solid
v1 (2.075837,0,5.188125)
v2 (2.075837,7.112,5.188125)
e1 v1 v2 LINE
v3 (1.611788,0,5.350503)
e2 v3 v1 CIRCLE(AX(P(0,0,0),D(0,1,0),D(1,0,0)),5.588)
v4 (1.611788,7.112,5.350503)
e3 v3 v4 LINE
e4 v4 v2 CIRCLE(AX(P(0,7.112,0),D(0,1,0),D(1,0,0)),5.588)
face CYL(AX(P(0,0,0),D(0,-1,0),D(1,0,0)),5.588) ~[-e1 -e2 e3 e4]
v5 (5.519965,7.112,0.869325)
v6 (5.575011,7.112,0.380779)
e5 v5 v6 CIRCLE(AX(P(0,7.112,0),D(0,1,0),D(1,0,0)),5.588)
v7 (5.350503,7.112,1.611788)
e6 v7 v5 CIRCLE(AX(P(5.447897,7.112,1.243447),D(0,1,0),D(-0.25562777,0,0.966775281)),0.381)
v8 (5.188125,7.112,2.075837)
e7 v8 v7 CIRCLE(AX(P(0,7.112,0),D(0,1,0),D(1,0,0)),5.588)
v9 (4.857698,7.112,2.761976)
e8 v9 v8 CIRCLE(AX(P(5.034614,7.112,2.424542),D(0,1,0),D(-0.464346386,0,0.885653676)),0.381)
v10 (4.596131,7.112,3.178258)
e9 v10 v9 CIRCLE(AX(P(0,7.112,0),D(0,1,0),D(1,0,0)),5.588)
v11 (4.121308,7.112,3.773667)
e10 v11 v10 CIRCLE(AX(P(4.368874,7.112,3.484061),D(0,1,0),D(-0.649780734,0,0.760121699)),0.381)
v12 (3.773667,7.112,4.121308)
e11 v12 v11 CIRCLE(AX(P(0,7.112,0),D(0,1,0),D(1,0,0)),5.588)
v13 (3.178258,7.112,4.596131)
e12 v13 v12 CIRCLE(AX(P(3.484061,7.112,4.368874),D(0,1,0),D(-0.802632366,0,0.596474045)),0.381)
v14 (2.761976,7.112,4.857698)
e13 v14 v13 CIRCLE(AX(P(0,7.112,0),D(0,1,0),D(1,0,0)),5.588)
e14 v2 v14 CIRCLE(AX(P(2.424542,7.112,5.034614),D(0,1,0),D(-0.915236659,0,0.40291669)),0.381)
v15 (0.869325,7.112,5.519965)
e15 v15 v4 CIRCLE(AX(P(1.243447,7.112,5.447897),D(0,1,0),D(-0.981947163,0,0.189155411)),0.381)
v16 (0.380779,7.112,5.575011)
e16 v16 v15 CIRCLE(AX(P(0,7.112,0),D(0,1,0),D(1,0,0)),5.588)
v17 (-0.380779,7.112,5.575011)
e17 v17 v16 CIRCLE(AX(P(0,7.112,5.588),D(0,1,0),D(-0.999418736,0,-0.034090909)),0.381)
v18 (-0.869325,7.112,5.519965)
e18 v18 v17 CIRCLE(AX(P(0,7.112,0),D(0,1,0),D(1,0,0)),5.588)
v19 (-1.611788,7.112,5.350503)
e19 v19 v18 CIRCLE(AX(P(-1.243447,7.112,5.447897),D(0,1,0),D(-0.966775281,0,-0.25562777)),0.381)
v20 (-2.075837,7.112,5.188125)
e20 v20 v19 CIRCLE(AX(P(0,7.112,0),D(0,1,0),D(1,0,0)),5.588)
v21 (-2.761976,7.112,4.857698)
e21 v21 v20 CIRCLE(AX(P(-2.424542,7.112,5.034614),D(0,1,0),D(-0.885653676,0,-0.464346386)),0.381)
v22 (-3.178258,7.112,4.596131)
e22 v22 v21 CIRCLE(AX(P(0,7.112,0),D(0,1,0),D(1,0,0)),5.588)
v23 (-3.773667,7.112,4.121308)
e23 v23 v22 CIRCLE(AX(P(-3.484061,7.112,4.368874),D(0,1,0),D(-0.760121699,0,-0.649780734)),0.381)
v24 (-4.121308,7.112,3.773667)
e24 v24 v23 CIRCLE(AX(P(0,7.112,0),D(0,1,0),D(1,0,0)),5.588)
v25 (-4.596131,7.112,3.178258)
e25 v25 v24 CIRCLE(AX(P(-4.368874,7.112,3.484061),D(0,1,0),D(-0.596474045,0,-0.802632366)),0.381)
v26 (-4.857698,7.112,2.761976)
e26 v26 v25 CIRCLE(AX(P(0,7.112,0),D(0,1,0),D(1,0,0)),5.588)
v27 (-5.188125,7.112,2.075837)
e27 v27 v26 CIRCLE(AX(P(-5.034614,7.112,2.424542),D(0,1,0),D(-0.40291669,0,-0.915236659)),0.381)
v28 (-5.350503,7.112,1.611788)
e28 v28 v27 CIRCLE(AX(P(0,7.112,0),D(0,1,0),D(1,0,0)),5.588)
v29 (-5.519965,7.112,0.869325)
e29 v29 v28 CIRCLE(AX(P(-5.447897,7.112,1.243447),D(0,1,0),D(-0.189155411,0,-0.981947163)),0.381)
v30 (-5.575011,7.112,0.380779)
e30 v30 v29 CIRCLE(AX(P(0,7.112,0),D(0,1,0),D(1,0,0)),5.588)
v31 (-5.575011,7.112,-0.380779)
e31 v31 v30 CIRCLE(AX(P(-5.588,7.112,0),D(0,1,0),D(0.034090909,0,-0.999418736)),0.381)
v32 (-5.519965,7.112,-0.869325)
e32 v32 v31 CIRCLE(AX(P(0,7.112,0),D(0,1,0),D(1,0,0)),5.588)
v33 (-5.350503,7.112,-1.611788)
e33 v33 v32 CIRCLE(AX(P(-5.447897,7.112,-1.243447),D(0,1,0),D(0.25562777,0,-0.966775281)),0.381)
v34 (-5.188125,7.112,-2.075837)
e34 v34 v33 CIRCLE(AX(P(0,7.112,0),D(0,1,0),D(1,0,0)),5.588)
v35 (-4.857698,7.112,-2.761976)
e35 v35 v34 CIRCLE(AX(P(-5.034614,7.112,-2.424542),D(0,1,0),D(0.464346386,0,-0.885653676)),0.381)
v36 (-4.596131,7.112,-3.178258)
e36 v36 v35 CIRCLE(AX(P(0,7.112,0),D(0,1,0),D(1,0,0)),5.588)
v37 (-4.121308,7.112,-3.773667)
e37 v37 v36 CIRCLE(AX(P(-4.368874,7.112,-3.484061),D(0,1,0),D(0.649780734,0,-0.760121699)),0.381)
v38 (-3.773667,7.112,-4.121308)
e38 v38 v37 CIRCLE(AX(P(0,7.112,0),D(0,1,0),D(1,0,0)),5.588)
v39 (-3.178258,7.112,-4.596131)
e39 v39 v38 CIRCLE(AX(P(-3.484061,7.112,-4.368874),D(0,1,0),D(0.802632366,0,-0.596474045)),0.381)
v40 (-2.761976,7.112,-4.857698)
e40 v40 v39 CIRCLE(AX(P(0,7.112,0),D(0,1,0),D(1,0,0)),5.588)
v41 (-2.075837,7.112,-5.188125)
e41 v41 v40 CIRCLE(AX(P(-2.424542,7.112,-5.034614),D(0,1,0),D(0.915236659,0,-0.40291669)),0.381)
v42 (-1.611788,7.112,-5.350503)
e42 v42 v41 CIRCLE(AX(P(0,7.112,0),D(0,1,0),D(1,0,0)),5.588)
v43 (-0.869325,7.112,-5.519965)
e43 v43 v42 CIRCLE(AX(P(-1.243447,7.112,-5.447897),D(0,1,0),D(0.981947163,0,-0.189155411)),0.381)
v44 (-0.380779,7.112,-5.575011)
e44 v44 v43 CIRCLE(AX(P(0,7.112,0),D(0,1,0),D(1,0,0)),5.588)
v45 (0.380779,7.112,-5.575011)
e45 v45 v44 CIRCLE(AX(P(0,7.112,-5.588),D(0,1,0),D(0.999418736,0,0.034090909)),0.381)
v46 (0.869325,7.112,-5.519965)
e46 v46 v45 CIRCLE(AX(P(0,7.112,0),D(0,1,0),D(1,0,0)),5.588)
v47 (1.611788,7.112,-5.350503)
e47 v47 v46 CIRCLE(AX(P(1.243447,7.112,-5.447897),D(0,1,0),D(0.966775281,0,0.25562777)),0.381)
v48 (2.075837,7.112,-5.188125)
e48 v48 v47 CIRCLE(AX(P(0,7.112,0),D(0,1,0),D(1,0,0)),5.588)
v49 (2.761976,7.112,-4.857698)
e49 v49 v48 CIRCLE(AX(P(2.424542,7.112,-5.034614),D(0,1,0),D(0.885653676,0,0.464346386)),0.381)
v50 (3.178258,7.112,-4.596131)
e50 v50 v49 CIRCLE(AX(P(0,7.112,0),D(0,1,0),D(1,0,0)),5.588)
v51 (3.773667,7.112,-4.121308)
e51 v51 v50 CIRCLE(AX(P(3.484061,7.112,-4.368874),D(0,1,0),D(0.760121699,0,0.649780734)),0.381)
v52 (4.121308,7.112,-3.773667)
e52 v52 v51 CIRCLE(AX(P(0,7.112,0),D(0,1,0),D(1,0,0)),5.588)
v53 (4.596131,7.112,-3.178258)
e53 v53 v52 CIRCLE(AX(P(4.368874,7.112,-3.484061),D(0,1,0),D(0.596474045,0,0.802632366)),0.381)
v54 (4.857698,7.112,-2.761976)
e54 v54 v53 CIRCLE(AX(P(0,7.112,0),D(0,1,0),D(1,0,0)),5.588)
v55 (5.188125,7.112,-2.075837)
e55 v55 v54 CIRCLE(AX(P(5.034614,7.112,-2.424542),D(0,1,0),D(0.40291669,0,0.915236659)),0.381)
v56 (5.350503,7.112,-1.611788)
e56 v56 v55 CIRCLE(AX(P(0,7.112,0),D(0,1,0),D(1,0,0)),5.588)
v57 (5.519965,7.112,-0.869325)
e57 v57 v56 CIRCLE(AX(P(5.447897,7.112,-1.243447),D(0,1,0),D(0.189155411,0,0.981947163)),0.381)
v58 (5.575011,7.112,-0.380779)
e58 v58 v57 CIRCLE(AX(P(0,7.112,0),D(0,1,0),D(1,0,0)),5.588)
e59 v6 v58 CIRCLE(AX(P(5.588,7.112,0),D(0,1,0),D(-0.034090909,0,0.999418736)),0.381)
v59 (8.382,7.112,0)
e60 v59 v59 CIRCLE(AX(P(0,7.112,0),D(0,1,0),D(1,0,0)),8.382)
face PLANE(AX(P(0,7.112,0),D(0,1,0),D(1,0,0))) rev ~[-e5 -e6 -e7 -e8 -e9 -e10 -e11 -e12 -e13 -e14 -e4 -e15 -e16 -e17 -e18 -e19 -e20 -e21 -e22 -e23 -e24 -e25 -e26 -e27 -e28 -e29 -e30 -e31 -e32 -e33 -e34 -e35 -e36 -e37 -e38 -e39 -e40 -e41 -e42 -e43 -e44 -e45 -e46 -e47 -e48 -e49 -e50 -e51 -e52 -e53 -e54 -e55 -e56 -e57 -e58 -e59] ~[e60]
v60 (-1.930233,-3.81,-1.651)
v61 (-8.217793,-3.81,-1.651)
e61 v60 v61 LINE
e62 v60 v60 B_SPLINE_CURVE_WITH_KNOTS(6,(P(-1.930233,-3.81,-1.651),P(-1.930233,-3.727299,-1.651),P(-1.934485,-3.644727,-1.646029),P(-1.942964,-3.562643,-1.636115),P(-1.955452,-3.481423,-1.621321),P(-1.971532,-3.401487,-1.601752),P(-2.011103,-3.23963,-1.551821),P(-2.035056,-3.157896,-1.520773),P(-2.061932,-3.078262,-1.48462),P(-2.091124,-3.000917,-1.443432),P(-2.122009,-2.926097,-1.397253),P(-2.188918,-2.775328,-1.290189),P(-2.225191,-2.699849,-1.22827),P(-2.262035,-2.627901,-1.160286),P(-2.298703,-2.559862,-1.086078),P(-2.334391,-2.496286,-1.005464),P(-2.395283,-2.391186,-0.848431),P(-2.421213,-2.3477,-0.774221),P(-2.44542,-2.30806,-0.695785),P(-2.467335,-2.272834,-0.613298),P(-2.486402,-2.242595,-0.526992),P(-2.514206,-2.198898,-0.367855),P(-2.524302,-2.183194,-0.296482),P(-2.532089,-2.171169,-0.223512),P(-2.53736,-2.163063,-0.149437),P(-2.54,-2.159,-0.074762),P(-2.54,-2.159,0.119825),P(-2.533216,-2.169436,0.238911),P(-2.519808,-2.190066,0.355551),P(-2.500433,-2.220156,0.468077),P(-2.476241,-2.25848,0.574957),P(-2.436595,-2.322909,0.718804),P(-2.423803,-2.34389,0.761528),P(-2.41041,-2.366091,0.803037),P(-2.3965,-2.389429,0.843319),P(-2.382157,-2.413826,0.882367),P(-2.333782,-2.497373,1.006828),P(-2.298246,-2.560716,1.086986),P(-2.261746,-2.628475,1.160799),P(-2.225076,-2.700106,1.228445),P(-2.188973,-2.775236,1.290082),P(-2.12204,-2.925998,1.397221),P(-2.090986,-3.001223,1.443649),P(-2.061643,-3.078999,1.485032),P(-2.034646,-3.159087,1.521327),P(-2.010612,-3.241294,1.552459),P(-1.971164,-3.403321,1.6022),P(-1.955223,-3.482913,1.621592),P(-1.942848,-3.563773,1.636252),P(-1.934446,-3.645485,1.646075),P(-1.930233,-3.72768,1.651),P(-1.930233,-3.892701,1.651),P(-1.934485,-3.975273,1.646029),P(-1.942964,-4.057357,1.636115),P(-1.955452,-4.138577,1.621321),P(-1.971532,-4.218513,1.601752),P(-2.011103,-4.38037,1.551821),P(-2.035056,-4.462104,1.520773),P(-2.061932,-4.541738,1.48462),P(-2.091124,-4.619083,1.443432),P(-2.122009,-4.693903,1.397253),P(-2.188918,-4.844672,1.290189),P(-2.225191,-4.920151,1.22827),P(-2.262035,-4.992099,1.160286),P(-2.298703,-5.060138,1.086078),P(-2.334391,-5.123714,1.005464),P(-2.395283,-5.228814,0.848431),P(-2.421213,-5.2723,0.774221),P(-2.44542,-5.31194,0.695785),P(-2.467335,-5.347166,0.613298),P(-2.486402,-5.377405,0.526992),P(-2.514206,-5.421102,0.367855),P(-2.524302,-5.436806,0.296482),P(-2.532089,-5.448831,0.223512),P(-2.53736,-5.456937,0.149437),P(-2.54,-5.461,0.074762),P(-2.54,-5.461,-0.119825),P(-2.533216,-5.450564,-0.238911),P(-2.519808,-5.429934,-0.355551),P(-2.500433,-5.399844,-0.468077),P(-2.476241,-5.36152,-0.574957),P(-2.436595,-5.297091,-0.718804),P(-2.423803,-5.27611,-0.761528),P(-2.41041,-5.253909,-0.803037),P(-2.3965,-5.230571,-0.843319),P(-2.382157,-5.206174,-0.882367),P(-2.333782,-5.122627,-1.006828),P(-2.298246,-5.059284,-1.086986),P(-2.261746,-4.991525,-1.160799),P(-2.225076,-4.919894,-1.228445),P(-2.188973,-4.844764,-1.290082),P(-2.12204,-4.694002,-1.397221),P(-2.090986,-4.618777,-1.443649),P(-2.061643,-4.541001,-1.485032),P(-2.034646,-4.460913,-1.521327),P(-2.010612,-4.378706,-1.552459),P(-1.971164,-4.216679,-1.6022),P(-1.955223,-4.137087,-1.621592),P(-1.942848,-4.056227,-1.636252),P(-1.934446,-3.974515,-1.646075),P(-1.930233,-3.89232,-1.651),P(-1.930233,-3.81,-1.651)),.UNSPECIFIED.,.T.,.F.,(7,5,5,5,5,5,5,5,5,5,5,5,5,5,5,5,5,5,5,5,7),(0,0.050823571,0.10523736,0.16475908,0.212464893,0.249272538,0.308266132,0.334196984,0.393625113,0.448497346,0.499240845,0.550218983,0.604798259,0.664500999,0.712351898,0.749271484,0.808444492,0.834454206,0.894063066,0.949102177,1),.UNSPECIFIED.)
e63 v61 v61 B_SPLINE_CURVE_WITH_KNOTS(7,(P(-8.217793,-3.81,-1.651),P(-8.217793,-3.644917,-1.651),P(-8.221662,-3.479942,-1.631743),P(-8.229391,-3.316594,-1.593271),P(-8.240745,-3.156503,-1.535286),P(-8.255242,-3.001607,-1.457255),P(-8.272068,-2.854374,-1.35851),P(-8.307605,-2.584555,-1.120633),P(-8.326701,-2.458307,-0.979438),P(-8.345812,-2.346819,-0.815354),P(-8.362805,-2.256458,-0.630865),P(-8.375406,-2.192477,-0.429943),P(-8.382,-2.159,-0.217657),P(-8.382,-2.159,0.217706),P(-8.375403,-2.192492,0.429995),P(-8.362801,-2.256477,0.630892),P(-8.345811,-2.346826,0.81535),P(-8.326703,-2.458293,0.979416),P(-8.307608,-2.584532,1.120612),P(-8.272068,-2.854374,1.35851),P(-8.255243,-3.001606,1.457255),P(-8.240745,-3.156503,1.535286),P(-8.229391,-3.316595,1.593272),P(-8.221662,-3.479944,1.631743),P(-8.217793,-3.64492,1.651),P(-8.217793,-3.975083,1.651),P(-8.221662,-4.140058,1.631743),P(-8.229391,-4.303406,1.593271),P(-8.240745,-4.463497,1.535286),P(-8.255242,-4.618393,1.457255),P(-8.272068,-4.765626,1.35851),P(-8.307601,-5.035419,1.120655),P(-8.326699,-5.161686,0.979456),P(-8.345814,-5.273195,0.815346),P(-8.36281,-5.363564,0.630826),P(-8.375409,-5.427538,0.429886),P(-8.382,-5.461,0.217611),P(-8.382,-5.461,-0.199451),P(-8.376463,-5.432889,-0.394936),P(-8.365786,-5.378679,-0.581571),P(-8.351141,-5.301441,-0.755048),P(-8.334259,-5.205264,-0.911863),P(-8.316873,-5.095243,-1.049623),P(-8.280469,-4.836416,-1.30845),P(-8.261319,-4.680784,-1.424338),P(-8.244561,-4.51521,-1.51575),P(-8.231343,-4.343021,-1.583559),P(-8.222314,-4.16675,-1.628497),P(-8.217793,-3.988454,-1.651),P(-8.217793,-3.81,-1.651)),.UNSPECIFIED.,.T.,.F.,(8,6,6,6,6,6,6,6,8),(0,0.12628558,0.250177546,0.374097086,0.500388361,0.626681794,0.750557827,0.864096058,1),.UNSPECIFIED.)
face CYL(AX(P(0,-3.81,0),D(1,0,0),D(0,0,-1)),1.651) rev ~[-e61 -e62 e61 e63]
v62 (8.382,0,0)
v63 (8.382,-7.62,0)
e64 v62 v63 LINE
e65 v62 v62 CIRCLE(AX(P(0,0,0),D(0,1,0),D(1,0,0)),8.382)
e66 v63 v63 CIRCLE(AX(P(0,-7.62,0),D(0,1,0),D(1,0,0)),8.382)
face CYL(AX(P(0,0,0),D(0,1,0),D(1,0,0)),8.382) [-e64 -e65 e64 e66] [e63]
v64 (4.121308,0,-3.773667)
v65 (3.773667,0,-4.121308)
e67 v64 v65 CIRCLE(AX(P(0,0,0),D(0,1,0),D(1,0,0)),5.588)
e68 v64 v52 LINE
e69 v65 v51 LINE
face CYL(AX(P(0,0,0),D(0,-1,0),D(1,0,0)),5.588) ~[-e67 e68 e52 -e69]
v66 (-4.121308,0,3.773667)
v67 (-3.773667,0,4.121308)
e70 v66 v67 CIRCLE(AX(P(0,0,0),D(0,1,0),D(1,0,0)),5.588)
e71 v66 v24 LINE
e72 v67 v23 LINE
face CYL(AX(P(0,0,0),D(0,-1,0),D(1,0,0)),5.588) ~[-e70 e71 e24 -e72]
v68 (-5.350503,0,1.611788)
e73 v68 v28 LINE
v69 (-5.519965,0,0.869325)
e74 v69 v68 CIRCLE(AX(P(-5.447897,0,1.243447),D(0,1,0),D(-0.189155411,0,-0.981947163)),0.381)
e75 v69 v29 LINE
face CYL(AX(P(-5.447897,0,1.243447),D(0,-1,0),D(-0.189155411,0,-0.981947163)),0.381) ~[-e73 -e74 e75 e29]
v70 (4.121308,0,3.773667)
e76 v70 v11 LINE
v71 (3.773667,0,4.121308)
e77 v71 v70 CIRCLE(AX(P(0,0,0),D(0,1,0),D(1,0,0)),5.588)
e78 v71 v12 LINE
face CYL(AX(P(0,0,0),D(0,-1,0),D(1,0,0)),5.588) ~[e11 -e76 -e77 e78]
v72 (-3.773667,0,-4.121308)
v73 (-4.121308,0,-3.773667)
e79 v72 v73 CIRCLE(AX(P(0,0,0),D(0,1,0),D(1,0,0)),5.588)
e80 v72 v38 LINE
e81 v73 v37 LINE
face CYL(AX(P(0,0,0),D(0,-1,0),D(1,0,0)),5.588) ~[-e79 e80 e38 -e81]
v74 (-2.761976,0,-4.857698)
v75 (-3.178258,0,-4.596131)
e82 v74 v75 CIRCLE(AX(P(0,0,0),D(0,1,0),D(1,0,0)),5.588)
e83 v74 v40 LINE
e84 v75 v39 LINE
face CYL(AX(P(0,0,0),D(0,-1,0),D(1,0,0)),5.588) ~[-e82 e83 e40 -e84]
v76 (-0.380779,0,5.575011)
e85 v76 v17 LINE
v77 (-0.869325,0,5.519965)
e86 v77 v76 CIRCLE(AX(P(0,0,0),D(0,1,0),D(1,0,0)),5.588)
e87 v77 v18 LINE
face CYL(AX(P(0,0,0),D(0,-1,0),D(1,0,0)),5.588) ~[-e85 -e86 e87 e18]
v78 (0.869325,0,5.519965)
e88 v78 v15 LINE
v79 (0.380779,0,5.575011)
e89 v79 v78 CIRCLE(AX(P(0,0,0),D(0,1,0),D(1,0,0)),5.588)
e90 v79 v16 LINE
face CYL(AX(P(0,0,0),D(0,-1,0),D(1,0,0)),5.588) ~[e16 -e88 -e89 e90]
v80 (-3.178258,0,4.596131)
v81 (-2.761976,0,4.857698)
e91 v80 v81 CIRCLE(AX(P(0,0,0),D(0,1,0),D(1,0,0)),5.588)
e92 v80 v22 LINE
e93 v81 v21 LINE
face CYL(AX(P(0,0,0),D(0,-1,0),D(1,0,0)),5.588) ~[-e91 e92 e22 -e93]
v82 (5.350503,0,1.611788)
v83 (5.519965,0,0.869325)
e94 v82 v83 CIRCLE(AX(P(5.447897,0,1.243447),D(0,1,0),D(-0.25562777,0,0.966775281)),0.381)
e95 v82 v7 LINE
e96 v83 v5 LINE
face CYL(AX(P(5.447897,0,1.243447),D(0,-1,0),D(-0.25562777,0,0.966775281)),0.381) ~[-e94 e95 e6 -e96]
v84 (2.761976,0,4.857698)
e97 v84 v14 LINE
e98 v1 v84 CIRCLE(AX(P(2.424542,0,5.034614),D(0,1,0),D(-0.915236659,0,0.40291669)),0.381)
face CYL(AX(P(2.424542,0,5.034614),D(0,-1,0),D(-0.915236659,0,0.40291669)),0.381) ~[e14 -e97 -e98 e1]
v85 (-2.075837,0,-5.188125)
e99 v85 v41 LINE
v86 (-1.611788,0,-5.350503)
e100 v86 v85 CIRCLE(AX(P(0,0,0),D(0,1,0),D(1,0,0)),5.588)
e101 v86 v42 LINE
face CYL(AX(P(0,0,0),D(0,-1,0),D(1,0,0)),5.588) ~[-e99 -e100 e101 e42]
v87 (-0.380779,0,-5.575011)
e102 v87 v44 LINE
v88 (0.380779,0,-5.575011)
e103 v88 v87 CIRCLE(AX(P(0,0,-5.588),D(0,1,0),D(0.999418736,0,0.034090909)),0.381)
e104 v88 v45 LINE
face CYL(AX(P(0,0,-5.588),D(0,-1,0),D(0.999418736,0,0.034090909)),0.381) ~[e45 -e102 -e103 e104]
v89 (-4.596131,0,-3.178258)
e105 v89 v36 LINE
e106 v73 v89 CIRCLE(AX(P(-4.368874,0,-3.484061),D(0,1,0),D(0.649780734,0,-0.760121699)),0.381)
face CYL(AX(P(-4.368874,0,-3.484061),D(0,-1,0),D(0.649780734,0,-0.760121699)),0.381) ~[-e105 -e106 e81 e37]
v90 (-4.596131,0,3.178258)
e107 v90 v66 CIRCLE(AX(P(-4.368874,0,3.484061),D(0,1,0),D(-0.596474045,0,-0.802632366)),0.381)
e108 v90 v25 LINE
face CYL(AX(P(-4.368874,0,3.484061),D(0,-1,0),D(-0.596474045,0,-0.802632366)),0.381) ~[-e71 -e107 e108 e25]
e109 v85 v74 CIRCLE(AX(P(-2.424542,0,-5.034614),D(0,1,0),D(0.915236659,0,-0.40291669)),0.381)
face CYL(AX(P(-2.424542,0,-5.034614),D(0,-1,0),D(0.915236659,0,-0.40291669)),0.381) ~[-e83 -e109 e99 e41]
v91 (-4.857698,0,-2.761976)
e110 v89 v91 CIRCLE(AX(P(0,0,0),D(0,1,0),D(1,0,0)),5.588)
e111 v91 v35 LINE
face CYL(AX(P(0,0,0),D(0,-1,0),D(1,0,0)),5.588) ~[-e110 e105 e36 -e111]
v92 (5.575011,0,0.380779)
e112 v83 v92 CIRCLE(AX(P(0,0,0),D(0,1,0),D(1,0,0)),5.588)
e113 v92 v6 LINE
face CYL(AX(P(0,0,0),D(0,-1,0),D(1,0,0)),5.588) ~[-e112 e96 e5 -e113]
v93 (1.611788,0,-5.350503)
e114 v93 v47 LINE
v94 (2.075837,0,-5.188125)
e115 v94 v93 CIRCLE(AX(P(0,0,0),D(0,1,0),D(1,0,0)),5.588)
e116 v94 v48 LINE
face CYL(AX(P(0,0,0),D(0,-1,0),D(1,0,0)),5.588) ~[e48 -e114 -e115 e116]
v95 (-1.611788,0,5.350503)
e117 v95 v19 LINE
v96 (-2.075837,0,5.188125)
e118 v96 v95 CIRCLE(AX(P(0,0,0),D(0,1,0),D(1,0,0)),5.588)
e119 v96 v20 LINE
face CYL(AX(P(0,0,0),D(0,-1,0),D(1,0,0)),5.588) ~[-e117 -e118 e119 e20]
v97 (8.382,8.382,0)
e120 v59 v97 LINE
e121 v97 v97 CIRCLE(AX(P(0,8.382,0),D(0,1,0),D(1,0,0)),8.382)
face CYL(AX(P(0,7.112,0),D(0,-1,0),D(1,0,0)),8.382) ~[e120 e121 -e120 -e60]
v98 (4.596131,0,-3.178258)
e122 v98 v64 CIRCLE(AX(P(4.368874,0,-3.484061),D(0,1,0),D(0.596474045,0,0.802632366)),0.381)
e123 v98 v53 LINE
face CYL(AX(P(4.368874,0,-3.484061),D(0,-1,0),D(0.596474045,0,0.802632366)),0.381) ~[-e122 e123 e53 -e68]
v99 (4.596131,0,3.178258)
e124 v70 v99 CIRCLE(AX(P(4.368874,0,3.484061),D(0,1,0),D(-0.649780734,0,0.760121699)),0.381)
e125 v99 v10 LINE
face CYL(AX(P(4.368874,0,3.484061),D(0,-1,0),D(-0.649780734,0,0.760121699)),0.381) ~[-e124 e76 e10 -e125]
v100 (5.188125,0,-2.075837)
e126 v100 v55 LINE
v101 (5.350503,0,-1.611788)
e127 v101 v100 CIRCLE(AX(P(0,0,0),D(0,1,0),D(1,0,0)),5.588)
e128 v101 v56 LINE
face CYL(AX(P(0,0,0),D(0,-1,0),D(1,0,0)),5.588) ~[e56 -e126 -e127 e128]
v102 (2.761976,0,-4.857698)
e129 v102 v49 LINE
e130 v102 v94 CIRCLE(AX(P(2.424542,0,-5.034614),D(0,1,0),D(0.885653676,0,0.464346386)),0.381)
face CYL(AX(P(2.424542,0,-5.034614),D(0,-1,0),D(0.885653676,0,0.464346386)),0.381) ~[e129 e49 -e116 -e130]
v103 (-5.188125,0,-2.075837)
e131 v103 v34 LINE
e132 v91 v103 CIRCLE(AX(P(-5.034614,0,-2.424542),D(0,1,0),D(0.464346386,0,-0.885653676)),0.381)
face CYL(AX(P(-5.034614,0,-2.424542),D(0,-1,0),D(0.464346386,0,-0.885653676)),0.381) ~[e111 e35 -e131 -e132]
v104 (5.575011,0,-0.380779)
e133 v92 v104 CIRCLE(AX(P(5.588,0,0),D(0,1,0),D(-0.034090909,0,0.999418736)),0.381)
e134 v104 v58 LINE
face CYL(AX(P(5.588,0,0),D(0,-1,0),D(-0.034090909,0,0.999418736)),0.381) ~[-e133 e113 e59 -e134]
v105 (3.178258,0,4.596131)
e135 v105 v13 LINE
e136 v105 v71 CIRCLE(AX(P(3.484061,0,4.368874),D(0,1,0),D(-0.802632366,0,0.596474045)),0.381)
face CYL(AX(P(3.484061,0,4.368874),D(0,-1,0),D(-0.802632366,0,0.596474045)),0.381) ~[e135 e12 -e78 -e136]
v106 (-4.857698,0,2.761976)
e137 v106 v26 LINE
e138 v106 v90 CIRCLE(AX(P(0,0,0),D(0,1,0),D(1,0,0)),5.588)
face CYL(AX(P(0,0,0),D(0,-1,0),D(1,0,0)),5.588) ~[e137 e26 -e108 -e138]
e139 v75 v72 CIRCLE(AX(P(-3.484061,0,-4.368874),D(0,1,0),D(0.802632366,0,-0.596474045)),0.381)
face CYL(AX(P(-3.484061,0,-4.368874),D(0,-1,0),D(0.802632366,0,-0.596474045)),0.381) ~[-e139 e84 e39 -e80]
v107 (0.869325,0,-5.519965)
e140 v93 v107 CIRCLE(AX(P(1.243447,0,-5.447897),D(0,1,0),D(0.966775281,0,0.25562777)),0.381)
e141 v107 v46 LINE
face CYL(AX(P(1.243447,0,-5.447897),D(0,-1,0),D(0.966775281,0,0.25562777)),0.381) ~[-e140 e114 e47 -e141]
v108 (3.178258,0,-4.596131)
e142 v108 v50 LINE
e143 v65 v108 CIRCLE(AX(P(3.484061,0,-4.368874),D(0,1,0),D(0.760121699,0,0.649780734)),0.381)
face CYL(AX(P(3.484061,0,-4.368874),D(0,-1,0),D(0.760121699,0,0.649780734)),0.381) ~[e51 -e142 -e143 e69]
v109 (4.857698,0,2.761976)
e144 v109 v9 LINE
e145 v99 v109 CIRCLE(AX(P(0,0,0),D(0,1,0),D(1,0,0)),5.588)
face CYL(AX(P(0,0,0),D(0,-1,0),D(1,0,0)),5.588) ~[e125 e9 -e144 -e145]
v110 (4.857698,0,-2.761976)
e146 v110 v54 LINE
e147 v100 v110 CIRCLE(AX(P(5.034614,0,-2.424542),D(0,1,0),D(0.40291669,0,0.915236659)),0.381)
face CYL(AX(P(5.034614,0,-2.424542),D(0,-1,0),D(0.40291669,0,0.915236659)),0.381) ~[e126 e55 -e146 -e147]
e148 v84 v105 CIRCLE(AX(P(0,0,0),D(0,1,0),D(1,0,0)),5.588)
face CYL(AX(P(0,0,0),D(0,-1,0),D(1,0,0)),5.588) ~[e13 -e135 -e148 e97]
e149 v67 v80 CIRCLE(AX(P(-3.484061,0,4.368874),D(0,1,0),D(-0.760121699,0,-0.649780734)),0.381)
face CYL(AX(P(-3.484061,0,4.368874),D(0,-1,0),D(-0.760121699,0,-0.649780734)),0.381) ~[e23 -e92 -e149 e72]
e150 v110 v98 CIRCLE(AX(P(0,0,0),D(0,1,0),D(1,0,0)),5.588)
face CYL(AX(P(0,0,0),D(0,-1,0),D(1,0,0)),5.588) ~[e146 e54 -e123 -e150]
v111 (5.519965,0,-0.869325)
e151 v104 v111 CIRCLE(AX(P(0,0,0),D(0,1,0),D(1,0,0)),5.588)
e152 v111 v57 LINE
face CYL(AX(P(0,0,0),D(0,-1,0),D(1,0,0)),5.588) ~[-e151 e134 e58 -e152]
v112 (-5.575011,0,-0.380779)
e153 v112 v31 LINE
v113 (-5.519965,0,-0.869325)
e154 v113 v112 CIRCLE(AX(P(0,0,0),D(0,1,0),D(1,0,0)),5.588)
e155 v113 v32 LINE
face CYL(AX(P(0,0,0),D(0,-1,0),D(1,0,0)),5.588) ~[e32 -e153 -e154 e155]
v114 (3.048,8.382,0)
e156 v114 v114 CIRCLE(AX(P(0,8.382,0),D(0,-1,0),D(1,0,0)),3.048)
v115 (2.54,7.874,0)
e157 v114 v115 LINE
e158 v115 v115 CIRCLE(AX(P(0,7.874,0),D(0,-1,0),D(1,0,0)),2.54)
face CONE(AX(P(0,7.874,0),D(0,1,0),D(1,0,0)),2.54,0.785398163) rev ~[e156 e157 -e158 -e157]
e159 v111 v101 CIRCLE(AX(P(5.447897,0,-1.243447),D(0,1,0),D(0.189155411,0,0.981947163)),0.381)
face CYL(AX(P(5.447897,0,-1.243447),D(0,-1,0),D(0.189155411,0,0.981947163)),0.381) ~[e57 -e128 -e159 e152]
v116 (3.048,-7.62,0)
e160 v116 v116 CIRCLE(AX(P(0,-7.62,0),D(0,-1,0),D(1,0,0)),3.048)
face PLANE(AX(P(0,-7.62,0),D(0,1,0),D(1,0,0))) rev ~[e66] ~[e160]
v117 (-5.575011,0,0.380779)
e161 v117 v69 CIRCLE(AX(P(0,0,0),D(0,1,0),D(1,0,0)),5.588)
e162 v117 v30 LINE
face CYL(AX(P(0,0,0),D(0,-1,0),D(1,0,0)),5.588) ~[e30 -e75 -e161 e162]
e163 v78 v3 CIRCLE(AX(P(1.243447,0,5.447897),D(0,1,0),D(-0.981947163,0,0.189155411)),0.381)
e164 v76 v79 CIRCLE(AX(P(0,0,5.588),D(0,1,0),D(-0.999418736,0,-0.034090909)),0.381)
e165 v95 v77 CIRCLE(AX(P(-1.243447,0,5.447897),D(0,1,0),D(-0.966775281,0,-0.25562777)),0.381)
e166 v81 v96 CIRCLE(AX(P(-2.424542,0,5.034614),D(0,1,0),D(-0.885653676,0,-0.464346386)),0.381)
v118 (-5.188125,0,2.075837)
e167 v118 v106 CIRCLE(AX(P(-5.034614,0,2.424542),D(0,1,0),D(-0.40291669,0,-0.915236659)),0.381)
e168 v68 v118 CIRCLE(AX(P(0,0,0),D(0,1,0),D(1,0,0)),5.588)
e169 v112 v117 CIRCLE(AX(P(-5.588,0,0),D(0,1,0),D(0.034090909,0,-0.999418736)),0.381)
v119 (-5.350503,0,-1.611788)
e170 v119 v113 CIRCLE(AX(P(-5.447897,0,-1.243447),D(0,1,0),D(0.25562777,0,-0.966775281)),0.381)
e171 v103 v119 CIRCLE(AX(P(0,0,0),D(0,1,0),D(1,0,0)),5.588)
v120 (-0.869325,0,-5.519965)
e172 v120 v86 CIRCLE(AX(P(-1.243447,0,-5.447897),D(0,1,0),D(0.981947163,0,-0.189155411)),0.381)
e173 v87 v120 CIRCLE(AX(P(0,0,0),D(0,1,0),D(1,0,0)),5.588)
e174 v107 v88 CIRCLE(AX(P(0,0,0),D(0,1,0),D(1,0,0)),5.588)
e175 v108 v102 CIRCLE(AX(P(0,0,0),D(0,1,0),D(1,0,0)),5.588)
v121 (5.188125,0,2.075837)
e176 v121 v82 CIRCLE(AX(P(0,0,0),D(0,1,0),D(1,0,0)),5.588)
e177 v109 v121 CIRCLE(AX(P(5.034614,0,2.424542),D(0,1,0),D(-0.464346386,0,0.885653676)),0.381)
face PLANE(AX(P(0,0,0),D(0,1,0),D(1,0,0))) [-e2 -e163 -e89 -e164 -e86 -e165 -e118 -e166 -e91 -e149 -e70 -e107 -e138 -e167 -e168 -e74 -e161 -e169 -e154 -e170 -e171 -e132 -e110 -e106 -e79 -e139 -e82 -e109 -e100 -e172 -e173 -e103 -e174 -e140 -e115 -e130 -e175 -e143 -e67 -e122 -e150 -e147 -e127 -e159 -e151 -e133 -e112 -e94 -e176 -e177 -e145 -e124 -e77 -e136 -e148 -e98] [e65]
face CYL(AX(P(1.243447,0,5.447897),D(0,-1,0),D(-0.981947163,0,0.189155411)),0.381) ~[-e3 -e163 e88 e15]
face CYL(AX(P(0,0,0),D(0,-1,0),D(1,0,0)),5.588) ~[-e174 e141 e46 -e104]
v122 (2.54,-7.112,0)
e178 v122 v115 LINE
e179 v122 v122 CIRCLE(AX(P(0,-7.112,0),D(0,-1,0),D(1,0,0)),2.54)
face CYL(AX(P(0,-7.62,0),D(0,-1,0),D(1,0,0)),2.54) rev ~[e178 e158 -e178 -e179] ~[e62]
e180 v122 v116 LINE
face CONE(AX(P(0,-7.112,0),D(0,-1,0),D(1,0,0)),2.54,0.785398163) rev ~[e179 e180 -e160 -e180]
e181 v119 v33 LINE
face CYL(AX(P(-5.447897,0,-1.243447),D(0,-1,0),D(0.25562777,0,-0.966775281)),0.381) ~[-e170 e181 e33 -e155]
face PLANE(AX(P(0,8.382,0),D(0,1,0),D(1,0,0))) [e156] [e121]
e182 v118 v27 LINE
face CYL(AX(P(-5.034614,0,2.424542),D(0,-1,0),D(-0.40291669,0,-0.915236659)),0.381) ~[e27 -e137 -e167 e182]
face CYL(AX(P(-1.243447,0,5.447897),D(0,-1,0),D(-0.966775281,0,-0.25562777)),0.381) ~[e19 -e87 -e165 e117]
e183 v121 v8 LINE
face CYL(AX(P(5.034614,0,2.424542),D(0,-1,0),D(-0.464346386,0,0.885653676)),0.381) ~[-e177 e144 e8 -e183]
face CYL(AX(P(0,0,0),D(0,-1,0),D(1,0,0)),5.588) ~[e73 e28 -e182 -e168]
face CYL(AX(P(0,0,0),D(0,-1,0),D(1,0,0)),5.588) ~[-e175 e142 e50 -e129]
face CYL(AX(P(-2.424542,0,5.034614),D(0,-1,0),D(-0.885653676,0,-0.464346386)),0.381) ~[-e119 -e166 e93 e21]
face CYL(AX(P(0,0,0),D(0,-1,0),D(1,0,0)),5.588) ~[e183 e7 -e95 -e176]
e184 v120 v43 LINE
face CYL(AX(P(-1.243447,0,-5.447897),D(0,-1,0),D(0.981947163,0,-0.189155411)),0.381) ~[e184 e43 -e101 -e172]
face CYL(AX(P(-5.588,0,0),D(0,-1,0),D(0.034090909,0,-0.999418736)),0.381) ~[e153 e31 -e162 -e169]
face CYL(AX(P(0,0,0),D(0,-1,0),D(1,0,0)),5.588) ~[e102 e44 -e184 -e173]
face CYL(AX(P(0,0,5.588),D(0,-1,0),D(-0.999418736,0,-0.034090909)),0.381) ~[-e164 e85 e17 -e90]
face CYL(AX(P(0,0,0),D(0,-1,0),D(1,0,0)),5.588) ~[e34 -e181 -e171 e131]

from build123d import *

# Parameters (mm, degrees)
SKETCH1_R               = 8.382
BOSS_EXTRUDE1_DEPTH     = 7.62
SKETCH2_R               = 5.588
BOSS_EXTRUDE2_DEPTH     = 7.112
SKETCH3_R               = 8.382
BOSS_EXTRUDE3_DEPTH     = 1.27
SKETCH4_R               = 2.54
CUT_EXTRUDE1_DEPTH      = 1
CUT_EXTRUDE1_DEPTH_BACK = 17.002
CHAMFER1_SIZE           = 0.508
SKETCH5_R               = 1.651
CUT_EXTRUDE2_DEPTH      = 9.382


with BuildPart() as part:
    # Sketch1 → Boss-Extrude1 (new body)
    with BuildSketch(Plane(origin=(0, 0, 0), x_dir=(1, 0, 0), z_dir=(0, 1, 0))):
        Circle(SKETCH1_R)
    extrude(amount=-BOSS_EXTRUDE1_DEPTH)

    # Sketch2 → Boss-Extrude2 (add)
    with BuildSketch(Plane(origin=(0, 0, 0), x_dir=(1, 0, 0), z_dir=(0, 1, 0))):
        with BuildLine():
            ThreePointArc((-4.121307864, 3.77366738), (-4.666752119, 3.721610627), (-4.596130935, 3.178258081))
            ThreePointArc((-4.596130935, 3.178258081), (-4.368874324, 3.484061013), (-4.121307864, 3.77366738))
        make_face()
        with BuildLine():
            ThreePointArc((-4.857698061, 2.761976385), (-5.377883173, 2.589852039), (-5.188125293, 2.075837167))
            ThreePointArc((-5.188125293, 2.075837167), (-5.034614034, 2.424542334), (-4.857698061, 2.761976385))
        make_face()
        with BuildLine():
            ThreePointArc((-5.350502993, 1.611788361), (-5.819344708, 1.328227455), (-5.519965385, 0.86932511))
            ThreePointArc((-5.519965385, 0.86932511), (-5.447897173, 1.243446979), (-5.350502993, 1.611788361))
        make_face()
        with BuildLine():
            ThreePointArc((-5.575011364, 0.380778538), (-5.969, 0), (-5.575011364, -0.380778538))
            ThreePointArc((-5.575011364, -0.380778538), (-5.588, 0), (-5.575011364, 0.380778538))
        make_face()
        with BuildLine():
            ThreePointArc((-5.350502993, -1.611788361), (-5.447897173, -1.243446979), (-5.519965385, -0.86932511))
            ThreePointArc((-5.519965385, -0.86932511), (-5.819344708, -1.328227455), (-5.350502993, -1.611788361))
        make_face()
        with BuildLine():
            ThreePointArc((-4.857698061, -2.761976385), (-5.034614034, -2.424542334), (-5.188125293, -2.075837167))
            ThreePointArc((-5.188125293, -2.075837167), (-5.377883173, -2.589852039), (-4.857698061, -2.761976385))
        make_face()
        with BuildLine():
            ThreePointArc((-4.121307864, -3.77366738), (-4.368874324, -3.484061013), (-4.596130935, -3.178258081))
            ThreePointArc((-4.596130935, -3.178258081), (-4.666752119, -3.721610627), (-4.121307864, -3.77366738))
        make_face()
        with BuildLine():
            ThreePointArc((-2.075837167, -5.188125293), (-2.424542334, -5.034614034), (-2.761976385, -4.857698061))
            ThreePointArc((-2.761976385, -4.857698061), (-2.589852039, -5.377883173), (-2.075837167, -5.188125293))
        make_face()
        with BuildLine():
            ThreePointArc((-0.86932511, -5.519965385), (-1.243446979, -5.447897173), (-1.611788361, -5.350502993))
            ThreePointArc((-1.611788361, -5.350502993), (-1.328227455, -5.819344708), (-0.86932511, -5.519965385))
        make_face()
        with BuildLine():
            ThreePointArc((2.761976385, -4.857698061), (2.424542334, -5.034614034), (2.075837167, -5.188125293))
            ThreePointArc((2.075837167, -5.188125293), (2.589852039, -5.377883173), (2.761976385, -4.857698061))
        make_face()
        with BuildLine():
            ThreePointArc((3.77366738, -4.121307864), (3.484061013, -4.368874324), (3.178258081, -4.596130935))
            ThreePointArc((3.178258081, -4.596130935), (3.721610627, -4.666752119), (3.77366738, -4.121307864))
        make_face()
        with BuildLine():
            ThreePointArc((4.596130935, -3.178258081), (4.368874324, -3.484061013), (4.121307864, -3.77366738))
            ThreePointArc((4.121307864, -3.77366738), (4.666752119, -3.721610627), (4.596130935, -3.178258081))
        make_face()
        with BuildLine():
            ThreePointArc((5.188125293, -2.075837167), (5.034614034, -2.424542334), (4.857698061, -2.761976385))
            ThreePointArc((4.857698061, -2.761976385), (5.377883173, -2.589852039), (5.188125293, -2.075837167))
        make_face()
        with BuildLine():
            ThreePointArc((5.588, 0), (5.584751897, -0.1905), (5.575011364, -0.380778538))
            ThreePointArc((5.575011364, -0.380778538), (5.969, 0), (5.575011364, 0.380778538))
            ThreePointArc((5.575011364, 0.380778538), (5.584751897, 0.1905), (5.588, 0))
        make_face()
        with BuildLine():
            ThreePointArc((5.519965385, 0.86932511), (5.819344708, 1.328227455), (5.350502993, 1.611788361))
            ThreePointArc((5.350502993, 1.611788361), (5.447897173, 1.243446979), (5.519965385, 0.86932511))
        make_face()
        with BuildLine():
            ThreePointArc((5.188125293, 2.075837167), (5.377883173, 2.589852039), (4.857698061, 2.761976385))
            ThreePointArc((4.857698061, 2.761976385), (5.034614034, 2.424542334), (5.188125293, 2.075837167))
        make_face()
        with BuildLine():
            ThreePointArc((4.596130935, 3.178258081), (4.666752119, 3.721610627), (4.121307864, 3.77366738))
            ThreePointArc((4.121307864, 3.77366738), (4.368874324, 3.484061013), (4.596130935, 3.178258081))
        make_face()
        with BuildLine():
            ThreePointArc((3.77366738, 4.121307864), (3.721610627, 4.666752119), (3.178258081, 4.596130935))
            ThreePointArc((3.178258081, 4.596130935), (3.484061013, 4.368874324), (3.77366738, 4.121307864))
        make_face()
        with BuildLine():
            ThreePointArc((2.761976385, 4.857698061), (2.589852039, 5.377883173), (2.075837167, 5.188125293))
            ThreePointArc((2.075837167, 5.188125293), (2.424542334, 5.034614034), (2.761976385, 4.857698061))
        make_face()
        with BuildLine():
            ThreePointArc((1.611788361, 5.350502993), (1.328227455, 5.819344708), (0.86932511, 5.519965385))
            ThreePointArc((0.86932511, 5.519965385), (1.243446979, 5.447897173), (1.611788361, 5.350502993))
        make_face()
        with BuildLine():
            ThreePointArc((0.380778538, 5.575011364), (0, 5.969), (-0.380778538, 5.575011364))
            ThreePointArc((-0.380778538, 5.575011364), (0, 5.588), (0.380778538, 5.575011364))
        make_face()
        with BuildLine():
            ThreePointArc((-0.86932511, 5.519965385), (-1.328227455, 5.819344708), (-1.611788361, 5.350502993))
            ThreePointArc((-1.611788361, 5.350502993), (-1.243446979, 5.447897173), (-0.86932511, 5.519965385))
        make_face()
        with BuildLine():
            ThreePointArc((-2.075837167, 5.188125293), (-2.589852039, 5.377883173), (-2.761976385, 4.857698061))
            ThreePointArc((-2.761976385, 4.857698061), (-2.424542334, 5.034614034), (-2.075837167, 5.188125293))
        make_face()
        with BuildLine():
            ThreePointArc((-3.178258081, 4.596130935), (-3.721610627, 4.666752119), (-3.77366738, 4.121307864))
            ThreePointArc((-3.77366738, 4.121307864), (-3.484061013, 4.368874324), (-3.178258081, 4.596130935))
        make_face()
        with BuildLine():
            ThreePointArc((-3.178258081, -4.596130935), (-3.484061013, -4.368874324), (-3.77366738, -4.121307864))
            ThreePointArc((-3.77366738, -4.121307864), (-3.721610627, -4.666752119), (-3.178258081, -4.596130935))
        make_face()
        with BuildLine():
            ThreePointArc((0.380778538, -5.575011364), (0, -5.588), (-0.380778538, -5.575011364))
            ThreePointArc((-0.380778538, -5.575011364), (0, -5.969), (0.380778538, -5.575011364))
        make_face()
        with BuildLine():
            ThreePointArc((1.611788361, -5.350502993), (1.243446979, -5.447897173), (0.86932511, -5.519965385))
            ThreePointArc((0.86932511, -5.519965385), (1.328227455, -5.819344708), (1.611788361, -5.350502993))
        make_face()
        with BuildLine():
            ThreePointArc((5.519965385, -0.86932511), (5.447897173, -1.243446979), (5.350502993, -1.611788361))
            ThreePointArc((5.350502993, -1.611788361), (5.819344708, -1.328227455), (5.519965385, -0.86932511))
        make_face()
        Circle(SKETCH2_R)
    extrude(amount=BOSS_EXTRUDE2_DEPTH)

    # Sketch3 → Boss-Extrude3 (add)
    with BuildSketch(Plane(origin=(0, 7.112, 0), x_dir=(1, 0, 0), z_dir=(0, 1, 0))):
        Circle(SKETCH3_R)
    extrude(amount=BOSS_EXTRUDE3_DEPTH)

    # Sketch4 → Cut-Extrude1 (cut, two sides)
    with BuildSketch(Plane.XZ.offset(7.62)) as cut_extrude1_sk:
        Circle(SKETCH4_R)
    extrude(amount=CUT_EXTRUDE1_DEPTH, mode=Mode.SUBTRACT)
    extrude(cut_extrude1_sk.sketch, amount=-CUT_EXTRUDE1_DEPTH_BACK, mode=Mode.SUBTRACT)

    # Chamfer1
    chamfer1_edges = [part.edges().sort_by_distance(p)[0] for p in [
        (-2.54, 8.382, 0),
        (-2.54, -7.62, 0),
    ]]
    chamfer(chamfer1_edges, length=CHAMFER1_SIZE)

    # Sketch5 → Cut-Extrude2 (cut, through all)
    with BuildSketch(Plane(origin=(0, 0, 0), x_dir=(0, 0, -1), z_dir=(1, 0, 0))):
        with Locations((0, -3.81)):
            Circle(SKETCH5_R)
    extrude(amount=-CUT_EXTRUDE2_DEPTH, mode=Mode.SUBTRACT)


solid = part.part
